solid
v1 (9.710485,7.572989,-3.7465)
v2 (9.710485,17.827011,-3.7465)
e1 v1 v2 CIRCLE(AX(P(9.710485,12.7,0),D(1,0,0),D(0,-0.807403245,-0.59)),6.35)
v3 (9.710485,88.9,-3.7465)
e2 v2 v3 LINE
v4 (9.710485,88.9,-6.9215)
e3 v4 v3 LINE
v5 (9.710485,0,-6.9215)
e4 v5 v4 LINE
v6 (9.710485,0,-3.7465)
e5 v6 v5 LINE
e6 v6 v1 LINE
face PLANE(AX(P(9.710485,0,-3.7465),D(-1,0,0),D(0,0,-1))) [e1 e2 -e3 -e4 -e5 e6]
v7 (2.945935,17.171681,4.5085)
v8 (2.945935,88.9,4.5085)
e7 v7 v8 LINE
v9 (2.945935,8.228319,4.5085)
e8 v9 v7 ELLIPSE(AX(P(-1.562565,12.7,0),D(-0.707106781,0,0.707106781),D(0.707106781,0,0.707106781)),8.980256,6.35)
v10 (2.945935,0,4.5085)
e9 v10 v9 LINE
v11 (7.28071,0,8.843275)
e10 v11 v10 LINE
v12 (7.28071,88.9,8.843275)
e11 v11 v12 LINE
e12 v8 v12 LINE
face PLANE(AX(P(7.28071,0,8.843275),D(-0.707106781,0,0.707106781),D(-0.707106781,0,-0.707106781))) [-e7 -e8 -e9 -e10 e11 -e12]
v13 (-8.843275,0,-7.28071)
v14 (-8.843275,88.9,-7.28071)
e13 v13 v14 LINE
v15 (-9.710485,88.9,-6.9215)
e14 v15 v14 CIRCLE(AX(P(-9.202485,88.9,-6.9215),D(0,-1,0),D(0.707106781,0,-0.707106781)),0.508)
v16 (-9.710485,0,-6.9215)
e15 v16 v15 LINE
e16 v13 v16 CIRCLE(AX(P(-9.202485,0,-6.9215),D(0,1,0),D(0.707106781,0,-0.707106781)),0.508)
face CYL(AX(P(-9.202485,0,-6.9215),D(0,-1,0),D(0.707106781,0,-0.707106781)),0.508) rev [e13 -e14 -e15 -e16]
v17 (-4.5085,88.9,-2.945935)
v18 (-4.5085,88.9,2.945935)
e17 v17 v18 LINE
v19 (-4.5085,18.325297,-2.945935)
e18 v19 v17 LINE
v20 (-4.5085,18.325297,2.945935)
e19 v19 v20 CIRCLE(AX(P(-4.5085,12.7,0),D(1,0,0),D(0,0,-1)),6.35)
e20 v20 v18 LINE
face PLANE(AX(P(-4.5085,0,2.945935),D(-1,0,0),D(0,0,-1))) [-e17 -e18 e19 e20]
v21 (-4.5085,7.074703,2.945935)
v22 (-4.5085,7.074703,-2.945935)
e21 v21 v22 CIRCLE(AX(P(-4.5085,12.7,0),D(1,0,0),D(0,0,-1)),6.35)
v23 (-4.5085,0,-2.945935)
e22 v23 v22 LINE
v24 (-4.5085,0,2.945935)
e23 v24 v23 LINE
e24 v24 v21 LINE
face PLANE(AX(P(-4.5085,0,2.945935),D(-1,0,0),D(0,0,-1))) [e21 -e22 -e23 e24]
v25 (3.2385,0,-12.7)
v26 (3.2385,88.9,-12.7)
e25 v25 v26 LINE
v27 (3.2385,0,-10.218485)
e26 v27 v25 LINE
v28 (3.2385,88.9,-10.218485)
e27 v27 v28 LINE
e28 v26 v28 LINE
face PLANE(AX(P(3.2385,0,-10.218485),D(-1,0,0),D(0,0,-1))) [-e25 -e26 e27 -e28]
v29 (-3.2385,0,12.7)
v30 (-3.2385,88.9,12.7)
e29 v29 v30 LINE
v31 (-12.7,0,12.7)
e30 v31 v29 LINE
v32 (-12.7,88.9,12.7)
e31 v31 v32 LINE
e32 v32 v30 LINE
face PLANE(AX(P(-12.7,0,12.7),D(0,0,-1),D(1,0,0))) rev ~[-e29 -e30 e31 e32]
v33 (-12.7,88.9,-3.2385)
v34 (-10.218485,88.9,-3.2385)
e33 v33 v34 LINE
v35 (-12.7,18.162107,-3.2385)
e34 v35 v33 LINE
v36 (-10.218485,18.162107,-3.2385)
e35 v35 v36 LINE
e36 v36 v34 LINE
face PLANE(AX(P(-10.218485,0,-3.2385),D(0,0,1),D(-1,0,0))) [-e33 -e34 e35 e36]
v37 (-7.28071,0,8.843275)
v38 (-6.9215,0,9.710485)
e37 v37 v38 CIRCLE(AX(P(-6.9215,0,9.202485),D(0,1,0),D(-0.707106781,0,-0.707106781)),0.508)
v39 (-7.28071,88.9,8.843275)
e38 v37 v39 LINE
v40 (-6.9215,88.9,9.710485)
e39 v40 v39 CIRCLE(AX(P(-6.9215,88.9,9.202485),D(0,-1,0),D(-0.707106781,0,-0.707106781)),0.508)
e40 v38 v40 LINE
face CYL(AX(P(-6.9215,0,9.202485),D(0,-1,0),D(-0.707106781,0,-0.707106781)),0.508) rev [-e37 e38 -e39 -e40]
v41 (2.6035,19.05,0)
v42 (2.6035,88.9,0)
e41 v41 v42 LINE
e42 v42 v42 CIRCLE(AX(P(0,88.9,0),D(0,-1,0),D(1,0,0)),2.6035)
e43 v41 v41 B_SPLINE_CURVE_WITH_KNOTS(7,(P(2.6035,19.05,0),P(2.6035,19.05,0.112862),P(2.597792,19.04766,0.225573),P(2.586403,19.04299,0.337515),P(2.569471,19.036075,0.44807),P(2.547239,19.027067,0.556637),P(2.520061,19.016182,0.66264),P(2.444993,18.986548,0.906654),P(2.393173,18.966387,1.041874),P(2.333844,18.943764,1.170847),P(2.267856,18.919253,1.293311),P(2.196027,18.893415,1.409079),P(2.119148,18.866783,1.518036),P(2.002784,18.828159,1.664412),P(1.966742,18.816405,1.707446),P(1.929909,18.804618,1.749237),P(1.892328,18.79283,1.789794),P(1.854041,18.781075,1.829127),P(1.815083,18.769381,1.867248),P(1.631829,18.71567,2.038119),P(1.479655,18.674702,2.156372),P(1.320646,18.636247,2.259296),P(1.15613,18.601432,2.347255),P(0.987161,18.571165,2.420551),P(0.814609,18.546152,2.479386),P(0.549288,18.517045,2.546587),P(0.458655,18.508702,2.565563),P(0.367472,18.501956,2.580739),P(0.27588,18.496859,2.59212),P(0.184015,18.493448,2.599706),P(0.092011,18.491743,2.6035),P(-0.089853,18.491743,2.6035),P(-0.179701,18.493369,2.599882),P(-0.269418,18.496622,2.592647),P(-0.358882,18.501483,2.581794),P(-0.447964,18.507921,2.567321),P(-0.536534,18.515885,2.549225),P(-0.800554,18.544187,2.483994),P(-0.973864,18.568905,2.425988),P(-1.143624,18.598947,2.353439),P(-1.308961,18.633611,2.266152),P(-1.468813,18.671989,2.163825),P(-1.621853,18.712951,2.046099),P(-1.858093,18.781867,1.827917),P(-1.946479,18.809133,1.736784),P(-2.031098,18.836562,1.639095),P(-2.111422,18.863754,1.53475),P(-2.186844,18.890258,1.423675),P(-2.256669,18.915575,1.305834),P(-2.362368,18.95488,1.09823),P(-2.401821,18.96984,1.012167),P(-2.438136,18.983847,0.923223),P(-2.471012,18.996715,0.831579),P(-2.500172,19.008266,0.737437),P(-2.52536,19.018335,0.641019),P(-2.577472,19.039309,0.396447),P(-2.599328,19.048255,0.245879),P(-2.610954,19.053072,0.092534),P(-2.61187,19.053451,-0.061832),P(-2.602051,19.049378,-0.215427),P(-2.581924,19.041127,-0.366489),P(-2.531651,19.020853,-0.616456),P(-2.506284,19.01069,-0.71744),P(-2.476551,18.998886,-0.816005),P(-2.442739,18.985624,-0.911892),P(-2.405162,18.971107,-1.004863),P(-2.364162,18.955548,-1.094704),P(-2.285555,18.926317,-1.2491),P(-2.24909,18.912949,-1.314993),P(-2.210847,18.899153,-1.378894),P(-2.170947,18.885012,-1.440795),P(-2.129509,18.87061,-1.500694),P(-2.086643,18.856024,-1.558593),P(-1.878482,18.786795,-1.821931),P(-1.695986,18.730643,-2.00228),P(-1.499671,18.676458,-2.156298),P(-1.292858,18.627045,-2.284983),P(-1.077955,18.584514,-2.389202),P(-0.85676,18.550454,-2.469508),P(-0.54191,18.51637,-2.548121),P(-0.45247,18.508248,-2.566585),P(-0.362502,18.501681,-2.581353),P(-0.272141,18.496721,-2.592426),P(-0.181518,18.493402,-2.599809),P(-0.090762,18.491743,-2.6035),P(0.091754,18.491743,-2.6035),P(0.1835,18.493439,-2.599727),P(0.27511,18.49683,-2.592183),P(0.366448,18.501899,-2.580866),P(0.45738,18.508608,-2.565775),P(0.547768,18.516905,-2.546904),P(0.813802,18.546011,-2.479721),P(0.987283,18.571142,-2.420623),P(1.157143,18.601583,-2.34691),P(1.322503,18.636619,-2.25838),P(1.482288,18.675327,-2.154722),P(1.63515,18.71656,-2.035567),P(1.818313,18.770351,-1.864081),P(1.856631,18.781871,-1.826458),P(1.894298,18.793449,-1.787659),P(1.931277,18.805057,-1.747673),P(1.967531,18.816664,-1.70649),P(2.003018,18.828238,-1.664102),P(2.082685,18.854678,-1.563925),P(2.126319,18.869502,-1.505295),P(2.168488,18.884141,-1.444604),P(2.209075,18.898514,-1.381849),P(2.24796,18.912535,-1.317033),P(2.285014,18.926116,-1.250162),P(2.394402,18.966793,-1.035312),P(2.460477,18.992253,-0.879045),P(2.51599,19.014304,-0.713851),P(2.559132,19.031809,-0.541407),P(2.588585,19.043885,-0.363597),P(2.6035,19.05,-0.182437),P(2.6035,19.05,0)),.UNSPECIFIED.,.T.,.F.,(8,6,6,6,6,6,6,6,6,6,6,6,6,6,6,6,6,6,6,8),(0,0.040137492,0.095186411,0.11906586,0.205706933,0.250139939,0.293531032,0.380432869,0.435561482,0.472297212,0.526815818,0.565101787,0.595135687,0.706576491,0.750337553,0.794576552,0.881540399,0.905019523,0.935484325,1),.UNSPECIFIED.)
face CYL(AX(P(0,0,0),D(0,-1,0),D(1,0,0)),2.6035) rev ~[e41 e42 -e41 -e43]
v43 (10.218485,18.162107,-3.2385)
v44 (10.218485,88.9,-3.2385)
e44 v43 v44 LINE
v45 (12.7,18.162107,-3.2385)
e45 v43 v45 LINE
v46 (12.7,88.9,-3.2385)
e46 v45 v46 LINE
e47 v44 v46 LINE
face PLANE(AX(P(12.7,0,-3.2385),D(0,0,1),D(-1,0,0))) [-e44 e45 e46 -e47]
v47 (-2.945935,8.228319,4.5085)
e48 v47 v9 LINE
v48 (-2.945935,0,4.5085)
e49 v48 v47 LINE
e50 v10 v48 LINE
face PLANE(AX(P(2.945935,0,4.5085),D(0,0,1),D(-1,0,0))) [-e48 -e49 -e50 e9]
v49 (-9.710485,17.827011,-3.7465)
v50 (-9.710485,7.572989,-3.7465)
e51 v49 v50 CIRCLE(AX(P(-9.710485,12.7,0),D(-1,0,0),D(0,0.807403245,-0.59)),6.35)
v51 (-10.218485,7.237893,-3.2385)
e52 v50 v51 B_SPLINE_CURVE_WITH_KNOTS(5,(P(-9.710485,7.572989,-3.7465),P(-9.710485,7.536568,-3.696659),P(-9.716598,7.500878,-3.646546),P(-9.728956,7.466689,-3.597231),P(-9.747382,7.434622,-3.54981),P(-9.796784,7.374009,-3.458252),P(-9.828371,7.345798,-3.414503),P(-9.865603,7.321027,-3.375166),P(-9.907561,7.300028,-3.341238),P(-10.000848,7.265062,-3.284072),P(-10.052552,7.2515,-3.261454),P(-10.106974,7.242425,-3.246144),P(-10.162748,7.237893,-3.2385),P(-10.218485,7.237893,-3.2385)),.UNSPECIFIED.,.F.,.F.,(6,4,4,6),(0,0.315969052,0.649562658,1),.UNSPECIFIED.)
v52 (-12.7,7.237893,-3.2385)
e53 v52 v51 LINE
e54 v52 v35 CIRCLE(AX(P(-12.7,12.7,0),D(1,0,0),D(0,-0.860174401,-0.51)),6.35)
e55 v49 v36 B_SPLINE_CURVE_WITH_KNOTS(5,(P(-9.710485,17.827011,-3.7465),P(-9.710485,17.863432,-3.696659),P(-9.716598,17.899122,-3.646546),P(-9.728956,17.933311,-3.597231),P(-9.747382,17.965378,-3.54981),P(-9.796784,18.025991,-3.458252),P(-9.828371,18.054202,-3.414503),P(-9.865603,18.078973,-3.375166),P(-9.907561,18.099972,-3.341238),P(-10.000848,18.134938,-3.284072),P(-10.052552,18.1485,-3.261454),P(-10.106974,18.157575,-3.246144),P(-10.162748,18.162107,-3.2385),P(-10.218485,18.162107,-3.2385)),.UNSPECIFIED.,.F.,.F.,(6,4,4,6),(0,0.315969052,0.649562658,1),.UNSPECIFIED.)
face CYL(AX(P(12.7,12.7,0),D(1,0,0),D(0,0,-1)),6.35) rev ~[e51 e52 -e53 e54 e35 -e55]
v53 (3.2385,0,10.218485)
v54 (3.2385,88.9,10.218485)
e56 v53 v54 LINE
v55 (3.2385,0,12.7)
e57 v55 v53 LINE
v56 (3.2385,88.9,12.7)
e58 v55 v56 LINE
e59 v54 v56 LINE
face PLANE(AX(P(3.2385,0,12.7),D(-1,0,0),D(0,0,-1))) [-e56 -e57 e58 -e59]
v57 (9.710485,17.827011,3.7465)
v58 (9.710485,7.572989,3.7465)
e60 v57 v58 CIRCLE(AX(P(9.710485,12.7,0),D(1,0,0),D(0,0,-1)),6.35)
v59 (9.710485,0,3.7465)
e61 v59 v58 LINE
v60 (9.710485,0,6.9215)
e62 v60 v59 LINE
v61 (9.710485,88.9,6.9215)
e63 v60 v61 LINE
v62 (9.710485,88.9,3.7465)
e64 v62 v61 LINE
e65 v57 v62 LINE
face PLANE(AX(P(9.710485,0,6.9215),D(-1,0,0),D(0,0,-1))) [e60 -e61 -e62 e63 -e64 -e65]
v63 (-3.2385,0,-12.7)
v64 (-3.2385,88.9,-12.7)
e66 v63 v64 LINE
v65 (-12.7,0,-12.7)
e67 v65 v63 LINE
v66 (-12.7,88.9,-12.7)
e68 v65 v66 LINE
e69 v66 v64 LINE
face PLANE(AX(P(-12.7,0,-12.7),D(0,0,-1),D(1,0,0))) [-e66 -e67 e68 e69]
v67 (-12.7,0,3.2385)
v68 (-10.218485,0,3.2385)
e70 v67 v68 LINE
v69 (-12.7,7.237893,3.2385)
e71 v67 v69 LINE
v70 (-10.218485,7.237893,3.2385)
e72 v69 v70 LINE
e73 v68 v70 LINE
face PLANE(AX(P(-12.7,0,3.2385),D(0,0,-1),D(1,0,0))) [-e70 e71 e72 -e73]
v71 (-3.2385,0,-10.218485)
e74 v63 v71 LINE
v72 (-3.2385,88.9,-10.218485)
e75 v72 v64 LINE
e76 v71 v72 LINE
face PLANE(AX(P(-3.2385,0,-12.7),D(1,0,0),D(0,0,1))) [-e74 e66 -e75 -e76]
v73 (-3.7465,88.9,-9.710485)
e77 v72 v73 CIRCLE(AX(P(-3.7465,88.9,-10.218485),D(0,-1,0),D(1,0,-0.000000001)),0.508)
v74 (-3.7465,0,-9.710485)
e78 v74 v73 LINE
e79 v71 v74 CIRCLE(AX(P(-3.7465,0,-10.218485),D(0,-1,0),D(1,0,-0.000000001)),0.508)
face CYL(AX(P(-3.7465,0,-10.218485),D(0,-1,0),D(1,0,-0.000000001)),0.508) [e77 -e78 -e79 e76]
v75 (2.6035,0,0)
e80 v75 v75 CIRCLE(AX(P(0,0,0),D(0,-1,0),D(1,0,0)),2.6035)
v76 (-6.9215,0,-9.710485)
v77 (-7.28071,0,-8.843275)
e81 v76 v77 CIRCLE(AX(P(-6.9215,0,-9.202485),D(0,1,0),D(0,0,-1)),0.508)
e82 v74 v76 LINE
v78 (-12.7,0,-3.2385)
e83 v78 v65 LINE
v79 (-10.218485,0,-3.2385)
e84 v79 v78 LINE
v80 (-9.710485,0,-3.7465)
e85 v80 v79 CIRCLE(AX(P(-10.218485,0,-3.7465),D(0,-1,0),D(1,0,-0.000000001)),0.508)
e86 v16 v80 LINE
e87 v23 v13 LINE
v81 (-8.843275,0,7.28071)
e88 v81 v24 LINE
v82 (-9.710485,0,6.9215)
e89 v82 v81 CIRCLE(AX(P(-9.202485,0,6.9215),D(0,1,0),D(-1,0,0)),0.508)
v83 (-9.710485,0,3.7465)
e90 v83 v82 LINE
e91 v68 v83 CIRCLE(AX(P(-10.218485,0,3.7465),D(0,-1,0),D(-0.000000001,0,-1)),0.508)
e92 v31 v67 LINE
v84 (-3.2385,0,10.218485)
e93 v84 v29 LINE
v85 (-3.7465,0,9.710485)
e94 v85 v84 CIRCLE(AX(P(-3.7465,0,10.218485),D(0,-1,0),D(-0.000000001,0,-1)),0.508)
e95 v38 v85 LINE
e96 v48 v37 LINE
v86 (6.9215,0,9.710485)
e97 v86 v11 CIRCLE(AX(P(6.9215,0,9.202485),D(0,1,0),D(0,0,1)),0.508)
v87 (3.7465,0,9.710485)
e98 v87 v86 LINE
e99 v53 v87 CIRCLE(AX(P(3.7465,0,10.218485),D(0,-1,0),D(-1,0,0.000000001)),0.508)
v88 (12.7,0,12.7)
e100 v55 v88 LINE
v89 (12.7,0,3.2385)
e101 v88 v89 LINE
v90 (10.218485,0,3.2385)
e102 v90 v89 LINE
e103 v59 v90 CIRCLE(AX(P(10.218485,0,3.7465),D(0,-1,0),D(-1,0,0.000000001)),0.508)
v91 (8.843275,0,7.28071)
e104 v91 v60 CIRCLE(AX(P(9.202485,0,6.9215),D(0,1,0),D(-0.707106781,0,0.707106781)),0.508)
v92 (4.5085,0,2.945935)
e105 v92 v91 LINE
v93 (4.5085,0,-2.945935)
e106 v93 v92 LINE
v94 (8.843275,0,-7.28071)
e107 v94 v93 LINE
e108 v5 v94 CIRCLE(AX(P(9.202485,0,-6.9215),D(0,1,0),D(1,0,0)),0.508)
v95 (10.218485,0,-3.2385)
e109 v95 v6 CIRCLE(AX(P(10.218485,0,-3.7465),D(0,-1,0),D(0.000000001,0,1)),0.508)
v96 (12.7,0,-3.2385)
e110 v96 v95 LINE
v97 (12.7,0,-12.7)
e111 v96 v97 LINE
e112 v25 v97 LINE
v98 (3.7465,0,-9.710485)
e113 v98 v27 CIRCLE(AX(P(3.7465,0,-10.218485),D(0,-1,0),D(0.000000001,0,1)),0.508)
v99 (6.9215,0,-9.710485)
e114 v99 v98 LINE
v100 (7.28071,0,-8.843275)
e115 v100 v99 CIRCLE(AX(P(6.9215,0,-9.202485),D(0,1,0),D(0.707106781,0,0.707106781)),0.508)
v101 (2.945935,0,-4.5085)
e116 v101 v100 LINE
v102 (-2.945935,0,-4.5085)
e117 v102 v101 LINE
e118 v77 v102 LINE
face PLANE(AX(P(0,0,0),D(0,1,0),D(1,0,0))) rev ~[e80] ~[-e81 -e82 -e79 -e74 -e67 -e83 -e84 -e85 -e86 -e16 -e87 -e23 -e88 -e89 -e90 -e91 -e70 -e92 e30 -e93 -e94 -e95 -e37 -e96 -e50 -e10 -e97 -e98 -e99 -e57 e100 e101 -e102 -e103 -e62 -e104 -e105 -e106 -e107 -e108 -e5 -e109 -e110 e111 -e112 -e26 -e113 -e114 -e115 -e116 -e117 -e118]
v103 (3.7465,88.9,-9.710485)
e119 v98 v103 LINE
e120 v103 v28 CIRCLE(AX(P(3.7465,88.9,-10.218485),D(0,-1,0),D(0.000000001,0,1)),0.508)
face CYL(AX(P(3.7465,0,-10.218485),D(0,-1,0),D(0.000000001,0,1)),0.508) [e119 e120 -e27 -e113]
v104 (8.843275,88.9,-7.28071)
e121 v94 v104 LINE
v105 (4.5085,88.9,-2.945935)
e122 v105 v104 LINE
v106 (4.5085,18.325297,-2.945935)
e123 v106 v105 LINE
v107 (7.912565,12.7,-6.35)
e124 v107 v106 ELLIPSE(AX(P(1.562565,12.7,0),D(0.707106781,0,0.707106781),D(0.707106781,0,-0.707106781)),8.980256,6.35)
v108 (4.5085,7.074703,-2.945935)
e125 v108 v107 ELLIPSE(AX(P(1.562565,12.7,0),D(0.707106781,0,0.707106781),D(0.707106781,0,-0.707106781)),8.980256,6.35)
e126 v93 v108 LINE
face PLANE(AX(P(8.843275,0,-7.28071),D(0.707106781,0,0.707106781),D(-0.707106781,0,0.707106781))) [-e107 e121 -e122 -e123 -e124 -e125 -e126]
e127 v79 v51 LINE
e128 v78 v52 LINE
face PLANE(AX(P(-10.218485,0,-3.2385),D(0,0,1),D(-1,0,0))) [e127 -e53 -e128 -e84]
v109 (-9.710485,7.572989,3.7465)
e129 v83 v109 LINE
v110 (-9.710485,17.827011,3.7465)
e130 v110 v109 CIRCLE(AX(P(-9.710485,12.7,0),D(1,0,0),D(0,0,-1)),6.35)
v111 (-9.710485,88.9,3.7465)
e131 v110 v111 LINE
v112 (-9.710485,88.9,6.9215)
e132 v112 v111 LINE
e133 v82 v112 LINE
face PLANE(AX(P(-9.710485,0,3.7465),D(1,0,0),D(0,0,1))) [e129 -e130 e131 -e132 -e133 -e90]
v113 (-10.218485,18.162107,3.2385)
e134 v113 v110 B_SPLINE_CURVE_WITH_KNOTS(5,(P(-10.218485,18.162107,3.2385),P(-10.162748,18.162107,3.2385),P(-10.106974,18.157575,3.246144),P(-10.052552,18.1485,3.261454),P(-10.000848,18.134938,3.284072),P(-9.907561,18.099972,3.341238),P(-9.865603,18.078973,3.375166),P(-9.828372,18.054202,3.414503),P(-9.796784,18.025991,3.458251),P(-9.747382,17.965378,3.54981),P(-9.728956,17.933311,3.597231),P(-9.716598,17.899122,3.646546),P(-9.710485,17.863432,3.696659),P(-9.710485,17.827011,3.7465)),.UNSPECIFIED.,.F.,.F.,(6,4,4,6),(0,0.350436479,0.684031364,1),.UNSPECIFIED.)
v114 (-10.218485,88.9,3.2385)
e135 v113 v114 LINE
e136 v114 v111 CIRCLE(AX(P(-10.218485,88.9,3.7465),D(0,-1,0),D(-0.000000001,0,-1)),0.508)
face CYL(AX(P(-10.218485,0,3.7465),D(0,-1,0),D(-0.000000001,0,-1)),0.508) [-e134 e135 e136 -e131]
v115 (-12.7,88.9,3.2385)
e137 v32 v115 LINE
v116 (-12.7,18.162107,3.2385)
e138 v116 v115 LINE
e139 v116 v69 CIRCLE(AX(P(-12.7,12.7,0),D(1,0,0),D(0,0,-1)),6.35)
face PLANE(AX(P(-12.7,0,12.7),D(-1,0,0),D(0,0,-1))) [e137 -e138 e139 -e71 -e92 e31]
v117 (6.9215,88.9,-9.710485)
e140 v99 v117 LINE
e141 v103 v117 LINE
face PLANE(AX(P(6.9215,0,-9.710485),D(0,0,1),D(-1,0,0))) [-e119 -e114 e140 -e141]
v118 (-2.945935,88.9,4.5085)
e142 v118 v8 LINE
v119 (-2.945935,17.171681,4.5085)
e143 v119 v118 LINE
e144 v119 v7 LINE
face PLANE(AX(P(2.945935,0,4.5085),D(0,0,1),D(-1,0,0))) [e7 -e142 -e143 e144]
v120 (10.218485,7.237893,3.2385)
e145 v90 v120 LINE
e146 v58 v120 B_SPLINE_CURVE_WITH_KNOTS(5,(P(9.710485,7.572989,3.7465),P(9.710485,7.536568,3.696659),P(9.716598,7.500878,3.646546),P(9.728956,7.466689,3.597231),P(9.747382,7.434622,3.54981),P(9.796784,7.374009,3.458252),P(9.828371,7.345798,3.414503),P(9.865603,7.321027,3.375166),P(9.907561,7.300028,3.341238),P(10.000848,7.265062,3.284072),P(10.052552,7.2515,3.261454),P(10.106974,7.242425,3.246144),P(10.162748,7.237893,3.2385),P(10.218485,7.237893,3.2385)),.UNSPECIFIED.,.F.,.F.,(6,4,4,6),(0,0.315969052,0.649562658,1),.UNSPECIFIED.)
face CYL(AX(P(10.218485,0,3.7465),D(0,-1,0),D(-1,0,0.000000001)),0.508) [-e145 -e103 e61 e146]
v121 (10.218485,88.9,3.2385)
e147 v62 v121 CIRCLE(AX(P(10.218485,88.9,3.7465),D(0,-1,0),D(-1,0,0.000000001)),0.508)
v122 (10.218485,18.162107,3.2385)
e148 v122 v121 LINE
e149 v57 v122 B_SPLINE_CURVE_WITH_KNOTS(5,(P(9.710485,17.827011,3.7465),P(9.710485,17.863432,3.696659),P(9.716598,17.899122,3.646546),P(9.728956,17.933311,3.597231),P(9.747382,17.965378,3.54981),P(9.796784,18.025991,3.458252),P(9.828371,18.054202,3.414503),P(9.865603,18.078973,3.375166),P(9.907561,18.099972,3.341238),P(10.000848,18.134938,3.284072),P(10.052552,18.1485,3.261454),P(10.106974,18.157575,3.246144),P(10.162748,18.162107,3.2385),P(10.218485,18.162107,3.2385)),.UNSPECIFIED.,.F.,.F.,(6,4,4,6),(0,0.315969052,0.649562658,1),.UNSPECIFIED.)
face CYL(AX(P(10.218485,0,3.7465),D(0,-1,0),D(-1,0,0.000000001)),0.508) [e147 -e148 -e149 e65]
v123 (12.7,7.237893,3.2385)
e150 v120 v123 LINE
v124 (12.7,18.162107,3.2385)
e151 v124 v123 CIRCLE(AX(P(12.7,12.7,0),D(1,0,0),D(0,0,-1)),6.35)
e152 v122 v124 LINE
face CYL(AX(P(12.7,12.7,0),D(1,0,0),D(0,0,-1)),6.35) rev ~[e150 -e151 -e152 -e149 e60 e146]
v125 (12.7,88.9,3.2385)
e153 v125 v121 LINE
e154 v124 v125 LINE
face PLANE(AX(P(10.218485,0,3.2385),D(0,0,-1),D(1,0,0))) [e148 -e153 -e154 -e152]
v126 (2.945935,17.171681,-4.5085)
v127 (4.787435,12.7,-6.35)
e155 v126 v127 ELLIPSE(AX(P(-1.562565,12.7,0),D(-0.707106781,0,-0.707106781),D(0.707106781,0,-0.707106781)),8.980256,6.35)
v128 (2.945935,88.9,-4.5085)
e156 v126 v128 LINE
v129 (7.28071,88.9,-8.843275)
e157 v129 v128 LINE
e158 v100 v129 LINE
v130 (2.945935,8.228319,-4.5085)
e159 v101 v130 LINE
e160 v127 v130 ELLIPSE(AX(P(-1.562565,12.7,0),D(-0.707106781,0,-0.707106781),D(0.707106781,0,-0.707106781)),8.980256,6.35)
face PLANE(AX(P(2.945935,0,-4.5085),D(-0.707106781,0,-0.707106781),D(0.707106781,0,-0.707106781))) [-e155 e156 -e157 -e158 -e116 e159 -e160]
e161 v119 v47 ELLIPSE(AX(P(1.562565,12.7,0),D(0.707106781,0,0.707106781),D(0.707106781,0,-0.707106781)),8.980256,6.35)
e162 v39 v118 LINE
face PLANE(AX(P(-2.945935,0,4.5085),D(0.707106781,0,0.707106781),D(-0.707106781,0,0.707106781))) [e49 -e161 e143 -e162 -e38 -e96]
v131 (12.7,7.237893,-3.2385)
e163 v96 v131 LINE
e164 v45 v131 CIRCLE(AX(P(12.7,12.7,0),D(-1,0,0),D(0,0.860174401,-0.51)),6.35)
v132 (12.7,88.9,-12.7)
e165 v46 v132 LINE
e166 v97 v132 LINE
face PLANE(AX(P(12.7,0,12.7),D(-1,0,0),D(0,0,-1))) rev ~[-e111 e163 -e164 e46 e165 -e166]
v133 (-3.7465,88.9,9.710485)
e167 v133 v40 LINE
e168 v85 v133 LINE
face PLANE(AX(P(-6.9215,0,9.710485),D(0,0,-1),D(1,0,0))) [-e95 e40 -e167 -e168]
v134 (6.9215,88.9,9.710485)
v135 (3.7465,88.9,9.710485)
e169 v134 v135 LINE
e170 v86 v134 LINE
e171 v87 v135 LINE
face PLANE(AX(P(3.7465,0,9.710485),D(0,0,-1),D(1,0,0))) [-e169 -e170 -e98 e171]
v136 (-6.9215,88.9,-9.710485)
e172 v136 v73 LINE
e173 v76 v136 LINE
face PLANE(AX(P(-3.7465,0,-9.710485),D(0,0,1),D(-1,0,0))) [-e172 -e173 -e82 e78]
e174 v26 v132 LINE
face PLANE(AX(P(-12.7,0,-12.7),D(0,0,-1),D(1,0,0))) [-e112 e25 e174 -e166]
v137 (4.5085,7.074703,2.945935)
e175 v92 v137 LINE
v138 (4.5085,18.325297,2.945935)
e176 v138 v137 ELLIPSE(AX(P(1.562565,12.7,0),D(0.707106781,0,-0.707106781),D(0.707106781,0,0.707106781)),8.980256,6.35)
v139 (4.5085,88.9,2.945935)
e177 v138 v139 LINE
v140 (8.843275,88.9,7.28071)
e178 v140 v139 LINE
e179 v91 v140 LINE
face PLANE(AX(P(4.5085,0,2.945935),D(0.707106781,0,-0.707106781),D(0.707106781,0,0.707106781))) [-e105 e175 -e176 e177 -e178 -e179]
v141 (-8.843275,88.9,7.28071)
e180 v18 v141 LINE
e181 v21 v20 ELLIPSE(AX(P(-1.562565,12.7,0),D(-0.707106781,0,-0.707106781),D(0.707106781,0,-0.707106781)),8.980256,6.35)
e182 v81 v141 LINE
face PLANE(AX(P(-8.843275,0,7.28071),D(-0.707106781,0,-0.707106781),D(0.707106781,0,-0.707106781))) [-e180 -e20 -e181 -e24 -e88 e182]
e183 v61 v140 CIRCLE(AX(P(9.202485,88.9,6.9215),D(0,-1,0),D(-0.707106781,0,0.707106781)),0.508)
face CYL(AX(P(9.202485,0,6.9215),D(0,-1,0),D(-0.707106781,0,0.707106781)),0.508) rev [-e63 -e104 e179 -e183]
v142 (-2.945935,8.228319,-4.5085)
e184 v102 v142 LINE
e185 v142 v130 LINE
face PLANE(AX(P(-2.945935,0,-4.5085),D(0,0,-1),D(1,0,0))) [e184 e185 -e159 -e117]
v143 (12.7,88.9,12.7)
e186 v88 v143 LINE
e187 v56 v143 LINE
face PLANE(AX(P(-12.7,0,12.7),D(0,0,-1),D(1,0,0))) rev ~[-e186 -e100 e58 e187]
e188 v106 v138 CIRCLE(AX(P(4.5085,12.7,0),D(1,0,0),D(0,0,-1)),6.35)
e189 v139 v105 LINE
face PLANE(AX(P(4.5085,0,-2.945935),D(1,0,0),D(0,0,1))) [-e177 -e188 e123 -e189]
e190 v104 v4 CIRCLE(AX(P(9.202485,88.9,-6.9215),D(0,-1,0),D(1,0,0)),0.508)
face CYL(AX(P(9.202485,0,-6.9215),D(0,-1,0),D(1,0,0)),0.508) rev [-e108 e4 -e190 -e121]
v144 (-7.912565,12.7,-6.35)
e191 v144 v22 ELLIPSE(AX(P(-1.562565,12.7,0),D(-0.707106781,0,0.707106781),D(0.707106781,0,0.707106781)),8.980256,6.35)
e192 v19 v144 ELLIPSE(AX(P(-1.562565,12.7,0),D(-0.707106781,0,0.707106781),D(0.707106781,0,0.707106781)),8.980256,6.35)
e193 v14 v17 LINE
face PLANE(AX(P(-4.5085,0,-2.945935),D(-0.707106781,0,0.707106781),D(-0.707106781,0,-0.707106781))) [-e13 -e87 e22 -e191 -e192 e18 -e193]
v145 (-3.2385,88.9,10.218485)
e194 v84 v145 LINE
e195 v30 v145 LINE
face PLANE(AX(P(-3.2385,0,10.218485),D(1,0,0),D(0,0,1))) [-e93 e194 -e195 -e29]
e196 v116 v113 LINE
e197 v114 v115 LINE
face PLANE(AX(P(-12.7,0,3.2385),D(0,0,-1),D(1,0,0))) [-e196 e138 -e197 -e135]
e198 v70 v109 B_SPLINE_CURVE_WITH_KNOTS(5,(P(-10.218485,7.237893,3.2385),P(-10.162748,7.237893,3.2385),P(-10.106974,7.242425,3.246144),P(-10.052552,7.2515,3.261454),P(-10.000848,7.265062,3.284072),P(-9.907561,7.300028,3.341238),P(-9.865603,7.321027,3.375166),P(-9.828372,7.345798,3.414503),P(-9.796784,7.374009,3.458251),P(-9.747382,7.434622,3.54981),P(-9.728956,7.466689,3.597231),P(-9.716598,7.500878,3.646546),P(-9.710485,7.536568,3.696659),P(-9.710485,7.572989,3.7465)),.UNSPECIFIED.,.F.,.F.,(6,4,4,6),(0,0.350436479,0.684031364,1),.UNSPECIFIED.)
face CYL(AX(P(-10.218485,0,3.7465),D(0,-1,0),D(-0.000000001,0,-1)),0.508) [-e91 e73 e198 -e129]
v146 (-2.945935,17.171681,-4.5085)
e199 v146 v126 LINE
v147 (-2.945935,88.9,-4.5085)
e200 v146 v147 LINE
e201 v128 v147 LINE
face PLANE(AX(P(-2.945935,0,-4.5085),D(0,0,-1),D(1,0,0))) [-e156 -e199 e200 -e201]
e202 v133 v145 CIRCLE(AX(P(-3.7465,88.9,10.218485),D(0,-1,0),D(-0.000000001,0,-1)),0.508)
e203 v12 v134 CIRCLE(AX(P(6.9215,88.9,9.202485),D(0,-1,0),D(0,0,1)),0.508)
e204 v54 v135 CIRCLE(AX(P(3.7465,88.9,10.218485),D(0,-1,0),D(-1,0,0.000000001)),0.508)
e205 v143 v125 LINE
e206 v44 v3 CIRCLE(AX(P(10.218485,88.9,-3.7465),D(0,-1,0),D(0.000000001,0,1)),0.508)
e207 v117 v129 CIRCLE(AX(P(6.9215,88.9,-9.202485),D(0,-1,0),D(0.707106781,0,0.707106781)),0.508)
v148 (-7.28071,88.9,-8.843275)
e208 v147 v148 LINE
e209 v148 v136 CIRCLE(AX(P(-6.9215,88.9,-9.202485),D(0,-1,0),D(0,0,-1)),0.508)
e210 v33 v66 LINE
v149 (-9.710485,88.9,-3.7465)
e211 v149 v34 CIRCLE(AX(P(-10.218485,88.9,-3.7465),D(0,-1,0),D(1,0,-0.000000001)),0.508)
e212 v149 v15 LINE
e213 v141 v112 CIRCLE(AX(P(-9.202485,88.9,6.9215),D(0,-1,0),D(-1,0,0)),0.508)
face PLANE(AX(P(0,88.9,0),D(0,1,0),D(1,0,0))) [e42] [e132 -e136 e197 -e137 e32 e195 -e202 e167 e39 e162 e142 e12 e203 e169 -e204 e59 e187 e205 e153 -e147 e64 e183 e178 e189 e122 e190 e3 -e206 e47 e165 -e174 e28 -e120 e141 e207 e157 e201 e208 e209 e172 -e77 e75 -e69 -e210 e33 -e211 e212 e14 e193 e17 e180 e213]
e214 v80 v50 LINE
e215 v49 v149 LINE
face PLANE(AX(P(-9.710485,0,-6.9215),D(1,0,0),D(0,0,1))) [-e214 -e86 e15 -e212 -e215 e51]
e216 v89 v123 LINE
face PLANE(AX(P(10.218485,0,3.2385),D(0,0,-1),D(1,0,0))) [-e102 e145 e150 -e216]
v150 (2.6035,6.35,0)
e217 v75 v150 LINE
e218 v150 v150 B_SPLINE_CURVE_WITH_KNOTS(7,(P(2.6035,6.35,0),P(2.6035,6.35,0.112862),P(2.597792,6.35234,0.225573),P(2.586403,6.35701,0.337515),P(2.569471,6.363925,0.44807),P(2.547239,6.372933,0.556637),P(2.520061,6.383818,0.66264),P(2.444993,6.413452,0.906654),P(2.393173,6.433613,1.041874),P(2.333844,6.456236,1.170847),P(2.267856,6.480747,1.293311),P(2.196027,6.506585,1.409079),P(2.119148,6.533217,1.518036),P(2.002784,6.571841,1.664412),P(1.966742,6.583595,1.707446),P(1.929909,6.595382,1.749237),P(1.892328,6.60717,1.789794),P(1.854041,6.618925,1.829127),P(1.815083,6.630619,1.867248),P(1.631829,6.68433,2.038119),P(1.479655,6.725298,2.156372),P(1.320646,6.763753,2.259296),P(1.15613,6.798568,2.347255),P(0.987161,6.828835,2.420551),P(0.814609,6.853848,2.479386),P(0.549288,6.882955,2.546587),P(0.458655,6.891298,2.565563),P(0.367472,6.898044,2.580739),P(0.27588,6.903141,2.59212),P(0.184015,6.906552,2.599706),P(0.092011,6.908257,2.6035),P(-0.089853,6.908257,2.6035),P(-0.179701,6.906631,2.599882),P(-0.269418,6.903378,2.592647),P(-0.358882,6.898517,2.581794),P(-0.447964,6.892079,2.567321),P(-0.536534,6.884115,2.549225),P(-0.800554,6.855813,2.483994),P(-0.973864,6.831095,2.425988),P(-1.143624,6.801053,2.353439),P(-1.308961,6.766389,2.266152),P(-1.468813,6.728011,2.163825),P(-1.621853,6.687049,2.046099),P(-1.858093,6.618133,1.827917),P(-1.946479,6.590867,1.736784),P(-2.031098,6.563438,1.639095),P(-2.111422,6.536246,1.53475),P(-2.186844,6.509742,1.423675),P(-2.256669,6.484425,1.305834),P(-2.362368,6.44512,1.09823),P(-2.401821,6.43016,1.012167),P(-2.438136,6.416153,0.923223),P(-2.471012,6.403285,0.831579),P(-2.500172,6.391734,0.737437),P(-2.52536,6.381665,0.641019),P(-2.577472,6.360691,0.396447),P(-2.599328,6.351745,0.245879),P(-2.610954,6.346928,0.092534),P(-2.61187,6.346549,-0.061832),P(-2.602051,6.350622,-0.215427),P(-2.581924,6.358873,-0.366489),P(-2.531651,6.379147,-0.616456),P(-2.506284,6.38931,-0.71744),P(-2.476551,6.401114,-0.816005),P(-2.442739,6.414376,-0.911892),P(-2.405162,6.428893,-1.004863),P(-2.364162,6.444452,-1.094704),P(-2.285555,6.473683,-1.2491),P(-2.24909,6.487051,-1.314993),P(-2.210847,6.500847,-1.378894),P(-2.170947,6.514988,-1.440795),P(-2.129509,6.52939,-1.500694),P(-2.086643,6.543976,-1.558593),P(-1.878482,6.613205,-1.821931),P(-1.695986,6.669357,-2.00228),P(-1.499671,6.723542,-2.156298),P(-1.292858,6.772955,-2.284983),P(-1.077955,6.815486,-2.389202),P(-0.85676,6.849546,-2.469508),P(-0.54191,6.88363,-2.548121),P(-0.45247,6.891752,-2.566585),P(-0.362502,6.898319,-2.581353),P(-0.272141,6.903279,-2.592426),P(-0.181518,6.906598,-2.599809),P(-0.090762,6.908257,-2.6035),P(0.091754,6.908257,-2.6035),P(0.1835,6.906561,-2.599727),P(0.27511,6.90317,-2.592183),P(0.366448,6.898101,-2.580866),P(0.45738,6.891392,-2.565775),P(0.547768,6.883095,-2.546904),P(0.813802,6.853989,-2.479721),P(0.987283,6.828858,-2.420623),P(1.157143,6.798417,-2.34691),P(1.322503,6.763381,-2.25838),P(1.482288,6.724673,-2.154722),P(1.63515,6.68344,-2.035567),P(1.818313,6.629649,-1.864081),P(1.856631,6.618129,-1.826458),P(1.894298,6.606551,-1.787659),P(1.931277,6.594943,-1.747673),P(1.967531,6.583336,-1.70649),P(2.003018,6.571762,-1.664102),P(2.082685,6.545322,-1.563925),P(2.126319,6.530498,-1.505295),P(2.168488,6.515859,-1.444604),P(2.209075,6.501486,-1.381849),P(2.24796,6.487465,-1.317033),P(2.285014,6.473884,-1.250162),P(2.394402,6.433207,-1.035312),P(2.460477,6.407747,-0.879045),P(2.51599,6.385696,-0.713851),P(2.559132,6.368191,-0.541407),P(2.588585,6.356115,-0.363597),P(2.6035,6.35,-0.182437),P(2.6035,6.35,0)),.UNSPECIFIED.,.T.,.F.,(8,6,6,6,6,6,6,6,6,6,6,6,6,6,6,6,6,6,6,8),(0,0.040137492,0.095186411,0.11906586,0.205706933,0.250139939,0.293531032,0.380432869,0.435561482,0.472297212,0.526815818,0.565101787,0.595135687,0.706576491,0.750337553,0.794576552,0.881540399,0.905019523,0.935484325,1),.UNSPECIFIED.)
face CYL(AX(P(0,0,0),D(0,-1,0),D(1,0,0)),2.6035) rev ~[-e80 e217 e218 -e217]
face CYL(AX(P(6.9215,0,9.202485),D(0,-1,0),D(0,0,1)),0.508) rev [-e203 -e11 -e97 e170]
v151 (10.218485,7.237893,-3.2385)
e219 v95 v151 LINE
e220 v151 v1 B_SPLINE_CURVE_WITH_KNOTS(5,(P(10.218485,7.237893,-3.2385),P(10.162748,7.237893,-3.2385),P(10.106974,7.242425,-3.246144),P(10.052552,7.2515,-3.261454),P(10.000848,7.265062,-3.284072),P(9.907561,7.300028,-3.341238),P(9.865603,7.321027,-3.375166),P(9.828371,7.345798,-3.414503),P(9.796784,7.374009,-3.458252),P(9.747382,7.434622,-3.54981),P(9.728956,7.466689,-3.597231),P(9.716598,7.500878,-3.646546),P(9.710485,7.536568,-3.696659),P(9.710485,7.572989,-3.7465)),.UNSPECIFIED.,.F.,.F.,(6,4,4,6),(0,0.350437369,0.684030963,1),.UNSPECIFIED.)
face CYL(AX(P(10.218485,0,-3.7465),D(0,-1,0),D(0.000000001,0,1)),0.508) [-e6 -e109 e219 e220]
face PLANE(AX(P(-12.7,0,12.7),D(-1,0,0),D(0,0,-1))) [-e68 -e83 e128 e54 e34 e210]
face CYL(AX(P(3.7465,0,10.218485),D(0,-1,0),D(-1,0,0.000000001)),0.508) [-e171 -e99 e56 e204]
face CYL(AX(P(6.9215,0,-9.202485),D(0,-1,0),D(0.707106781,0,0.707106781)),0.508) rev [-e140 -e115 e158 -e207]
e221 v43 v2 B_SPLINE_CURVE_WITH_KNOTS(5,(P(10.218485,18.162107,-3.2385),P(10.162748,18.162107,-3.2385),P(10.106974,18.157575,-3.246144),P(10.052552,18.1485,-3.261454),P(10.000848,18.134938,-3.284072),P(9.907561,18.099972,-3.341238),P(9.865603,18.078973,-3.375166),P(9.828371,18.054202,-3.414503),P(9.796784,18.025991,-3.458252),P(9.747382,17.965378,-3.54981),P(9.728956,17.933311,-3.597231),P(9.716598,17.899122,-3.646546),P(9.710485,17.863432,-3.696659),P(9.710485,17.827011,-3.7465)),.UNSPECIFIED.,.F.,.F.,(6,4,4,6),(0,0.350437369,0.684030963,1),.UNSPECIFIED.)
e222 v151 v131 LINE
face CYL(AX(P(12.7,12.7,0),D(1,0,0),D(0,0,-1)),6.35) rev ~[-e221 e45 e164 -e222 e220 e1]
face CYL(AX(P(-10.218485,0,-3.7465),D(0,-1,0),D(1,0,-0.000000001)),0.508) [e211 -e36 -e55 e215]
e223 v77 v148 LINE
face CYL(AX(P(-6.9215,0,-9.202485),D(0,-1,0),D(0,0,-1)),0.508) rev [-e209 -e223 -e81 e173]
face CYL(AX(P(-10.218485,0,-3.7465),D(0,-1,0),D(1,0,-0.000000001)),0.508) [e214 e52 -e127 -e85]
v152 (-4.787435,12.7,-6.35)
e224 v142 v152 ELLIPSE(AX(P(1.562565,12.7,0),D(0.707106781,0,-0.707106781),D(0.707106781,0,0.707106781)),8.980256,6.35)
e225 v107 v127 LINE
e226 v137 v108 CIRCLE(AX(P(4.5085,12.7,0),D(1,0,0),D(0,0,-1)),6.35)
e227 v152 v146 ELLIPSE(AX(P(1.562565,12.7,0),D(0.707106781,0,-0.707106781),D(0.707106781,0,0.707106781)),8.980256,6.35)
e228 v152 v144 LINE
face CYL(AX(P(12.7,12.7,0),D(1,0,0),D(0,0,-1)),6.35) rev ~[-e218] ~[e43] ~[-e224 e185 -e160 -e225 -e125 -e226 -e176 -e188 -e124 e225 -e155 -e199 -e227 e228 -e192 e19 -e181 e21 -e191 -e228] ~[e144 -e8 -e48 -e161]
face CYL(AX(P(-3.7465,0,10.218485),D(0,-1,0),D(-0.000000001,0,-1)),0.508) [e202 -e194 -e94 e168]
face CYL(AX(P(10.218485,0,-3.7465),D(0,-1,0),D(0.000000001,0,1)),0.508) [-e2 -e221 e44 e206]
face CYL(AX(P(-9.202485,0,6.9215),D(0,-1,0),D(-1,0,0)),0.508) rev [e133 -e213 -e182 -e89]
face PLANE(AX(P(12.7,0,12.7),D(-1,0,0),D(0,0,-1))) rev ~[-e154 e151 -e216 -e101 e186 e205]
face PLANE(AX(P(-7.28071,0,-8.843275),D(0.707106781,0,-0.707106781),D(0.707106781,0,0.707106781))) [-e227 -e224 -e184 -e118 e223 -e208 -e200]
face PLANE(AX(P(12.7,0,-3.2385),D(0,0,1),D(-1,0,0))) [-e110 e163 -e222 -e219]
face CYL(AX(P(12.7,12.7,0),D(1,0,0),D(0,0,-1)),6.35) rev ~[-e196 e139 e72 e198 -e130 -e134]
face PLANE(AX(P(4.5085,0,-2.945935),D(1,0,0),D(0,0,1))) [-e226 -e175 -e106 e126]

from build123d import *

# Parameters (mm, degrees)
SKETCH1_W           = 25.4
SKETCH1_H           = 25.4
BOSS_EXTRUDE1_DEPTH = 88.9
SKETCH2_R           = 6.35
CUT_EXTRUDE1_DEPTH  = 26.4
SKETCH4_R           = 2.6035
CUT_EXTRUDE2_DEPTH  = 89.9


with BuildPart() as part:
    # Sketch1 → Boss-Extrude1 (new body)
    with BuildSketch(Plane(origin=(0, 0, 0), x_dir=(1, 0, 0), z_dir=(0, 1, 0))):
        Rectangle(SKETCH1_W, SKETCH1_H)
    extrude(amount=BOSS_EXTRUDE1_DEPTH)

    # Sketch2 → Cut-Extrude1 (cut, through all)
    with BuildSketch(Plane(origin=(12.7, 0, 0), x_dir=(0, 0, -1), z_dir=(1, 0, 0))):
        with Locations((0, 12.7)):
            Circle(SKETCH2_R)
    extrude(amount=-CUT_EXTRUDE1_DEPTH, mode=Mode.SUBTRACT)

    # Sketch4 → Cut-Extrude2 (cut, through all)
    with BuildSketch(Plane.XZ):
        Circle(SKETCH4_R)
        with BuildLine():
            Line((-3.2385, 12.7), (3.2385, 12.7))
            Line((3.2385, 12.7), (3.2385, 10.218485055))
            ThreePointArc((3.2385, 10.218485055), (3.387289755, 9.85927481), (3.7465, 9.710485055))
            Line((3.7465, 9.710485055), (6.9215, 9.710485055))
            ThreePointArc((6.9215, 9.710485055), (7.390830803, 9.396888238), (7.280710245, 8.84327481))
            Line((7.280710245, 8.84327481), (2.945935435, 4.5085))
            Line((2.945935435, 4.5085), (-2.945935435, 4.5085))
            Line((-2.945935435, 4.5085), (-7.280710245, 8.84327481))
            ThreePointArc((-7.280710245, 8.84327481), (-7.390830803, 9.396888238), (-6.9215, 9.710485055))
            Line((-6.9215, 9.710485055), (-3.7465, 9.710485055))
            ThreePointArc((-3.7465, 9.710485055), (-3.387289755, 9.85927481), (-3.2385, 10.218485055))
            Line((-3.2385, 10.218485055), (-3.2385, 12.7))
        make_face()
        with BuildLine():
            Line((12.7, 3.2385), (12.7, -3.2385))
            Line((12.7, -3.2385), (10.218485055, -3.2385))
            ThreePointArc((10.218485055, -3.2385), (9.85927481, -3.387289755), (9.710485055, -3.7465))
            Line((9.710485055, -3.7465), (9.710485055, -6.9215))
            ThreePointArc((9.710485055, -6.9215), (9.396888238, -7.390830803), (8.84327481, -7.280710245))
            Line((8.84327481, -7.280710245), (4.5085, -2.945935435))
            Line((4.5085, -2.945935435), (4.5085, 2.945935435))
            Line((4.5085, 2.945935435), (8.84327481, 7.280710245))
            ThreePointArc((8.84327481, 7.280710245), (9.396888238, 7.390830803), (9.710485055, 6.9215))
            Line((9.710485055, 6.9215), (9.710485055, 3.7465))
            ThreePointArc((9.710485055, 3.7465), (9.85927481, 3.387289755), (10.218485055, 3.2385))
            Line((10.218485055, 3.2385), (12.7, 3.2385))
        make_face()
        with BuildLine():
            Line((3.2385, -12.7), (-3.2385, -12.7))
            Line((-3.2385, -12.7), (-3.2385, -10.218485055))
            ThreePointArc((-3.2385, -10.218485055), (-3.387289755, -9.85927481), (-3.7465, -9.710485055))
            Line((-3.7465, -9.710485055), (-6.9215, -9.710485055))
            ThreePointArc((-6.9215, -9.710485055), (-7.390830803, -9.396888238), (-7.280710245, -8.84327481))
            Line((-7.280710245, -8.84327481), (-2.945935435, -4.5085))
            Line((-2.945935435, -4.5085), (2.945935435, -4.5085))
            Line((2.945935435, -4.5085), (7.280710245, -8.84327481))
            ThreePointArc((7.280710245, -8.84327481), (7.390830803, -9.396888238), (6.9215, -9.710485055))
            Line((6.9215, -9.710485055), (3.7465, -9.710485055))
            ThreePointArc((3.7465, -9.710485055), (3.387289755, -9.85927481), (3.2385, -10.218485055))
            Line((3.2385, -10.218485055), (3.2385, -12.7))
        make_face()
        with BuildLine():
            Line((-12.7, -3.2385), (-12.7, 3.2385))
            Line((-12.7, 3.2385), (-10.218485055, 3.2385))
            ThreePointArc((-10.218485055, 3.2385), (-9.85927481, 3.387289755), (-9.710485055, 3.7465))
            Line((-9.710485055, 3.7465), (-9.710485055, 6.9215))
            ThreePointArc((-9.710485055, 6.9215), (-9.396888238, 7.390830803), (-8.84327481, 7.280710245))
            Line((-8.84327481, 7.280710245), (-4.5085, 2.945935435))
            Line((-4.5085, 2.945935435), (-4.5085, -2.945935435))
            Line((-4.5085, -2.945935435), (-8.84327481, -7.280710245))
            ThreePointArc((-8.84327481, -7.280710245), (-9.396888238, -7.390830803), (-9.710485055, -6.9215))
            Line((-9.710485055, -6.9215), (-9.710485055, -3.7465))
            ThreePointArc((-9.710485055, -3.7465), (-9.85927481, -3.387289755), (-10.218485055, -3.2385))
            Line((-10.218485055, -3.2385), (-12.7, -3.2385))
        make_face()
    extrude(amount=-CUT_EXTRUDE2_DEPTH, mode=Mode.SUBTRACT)


solid = part.part
